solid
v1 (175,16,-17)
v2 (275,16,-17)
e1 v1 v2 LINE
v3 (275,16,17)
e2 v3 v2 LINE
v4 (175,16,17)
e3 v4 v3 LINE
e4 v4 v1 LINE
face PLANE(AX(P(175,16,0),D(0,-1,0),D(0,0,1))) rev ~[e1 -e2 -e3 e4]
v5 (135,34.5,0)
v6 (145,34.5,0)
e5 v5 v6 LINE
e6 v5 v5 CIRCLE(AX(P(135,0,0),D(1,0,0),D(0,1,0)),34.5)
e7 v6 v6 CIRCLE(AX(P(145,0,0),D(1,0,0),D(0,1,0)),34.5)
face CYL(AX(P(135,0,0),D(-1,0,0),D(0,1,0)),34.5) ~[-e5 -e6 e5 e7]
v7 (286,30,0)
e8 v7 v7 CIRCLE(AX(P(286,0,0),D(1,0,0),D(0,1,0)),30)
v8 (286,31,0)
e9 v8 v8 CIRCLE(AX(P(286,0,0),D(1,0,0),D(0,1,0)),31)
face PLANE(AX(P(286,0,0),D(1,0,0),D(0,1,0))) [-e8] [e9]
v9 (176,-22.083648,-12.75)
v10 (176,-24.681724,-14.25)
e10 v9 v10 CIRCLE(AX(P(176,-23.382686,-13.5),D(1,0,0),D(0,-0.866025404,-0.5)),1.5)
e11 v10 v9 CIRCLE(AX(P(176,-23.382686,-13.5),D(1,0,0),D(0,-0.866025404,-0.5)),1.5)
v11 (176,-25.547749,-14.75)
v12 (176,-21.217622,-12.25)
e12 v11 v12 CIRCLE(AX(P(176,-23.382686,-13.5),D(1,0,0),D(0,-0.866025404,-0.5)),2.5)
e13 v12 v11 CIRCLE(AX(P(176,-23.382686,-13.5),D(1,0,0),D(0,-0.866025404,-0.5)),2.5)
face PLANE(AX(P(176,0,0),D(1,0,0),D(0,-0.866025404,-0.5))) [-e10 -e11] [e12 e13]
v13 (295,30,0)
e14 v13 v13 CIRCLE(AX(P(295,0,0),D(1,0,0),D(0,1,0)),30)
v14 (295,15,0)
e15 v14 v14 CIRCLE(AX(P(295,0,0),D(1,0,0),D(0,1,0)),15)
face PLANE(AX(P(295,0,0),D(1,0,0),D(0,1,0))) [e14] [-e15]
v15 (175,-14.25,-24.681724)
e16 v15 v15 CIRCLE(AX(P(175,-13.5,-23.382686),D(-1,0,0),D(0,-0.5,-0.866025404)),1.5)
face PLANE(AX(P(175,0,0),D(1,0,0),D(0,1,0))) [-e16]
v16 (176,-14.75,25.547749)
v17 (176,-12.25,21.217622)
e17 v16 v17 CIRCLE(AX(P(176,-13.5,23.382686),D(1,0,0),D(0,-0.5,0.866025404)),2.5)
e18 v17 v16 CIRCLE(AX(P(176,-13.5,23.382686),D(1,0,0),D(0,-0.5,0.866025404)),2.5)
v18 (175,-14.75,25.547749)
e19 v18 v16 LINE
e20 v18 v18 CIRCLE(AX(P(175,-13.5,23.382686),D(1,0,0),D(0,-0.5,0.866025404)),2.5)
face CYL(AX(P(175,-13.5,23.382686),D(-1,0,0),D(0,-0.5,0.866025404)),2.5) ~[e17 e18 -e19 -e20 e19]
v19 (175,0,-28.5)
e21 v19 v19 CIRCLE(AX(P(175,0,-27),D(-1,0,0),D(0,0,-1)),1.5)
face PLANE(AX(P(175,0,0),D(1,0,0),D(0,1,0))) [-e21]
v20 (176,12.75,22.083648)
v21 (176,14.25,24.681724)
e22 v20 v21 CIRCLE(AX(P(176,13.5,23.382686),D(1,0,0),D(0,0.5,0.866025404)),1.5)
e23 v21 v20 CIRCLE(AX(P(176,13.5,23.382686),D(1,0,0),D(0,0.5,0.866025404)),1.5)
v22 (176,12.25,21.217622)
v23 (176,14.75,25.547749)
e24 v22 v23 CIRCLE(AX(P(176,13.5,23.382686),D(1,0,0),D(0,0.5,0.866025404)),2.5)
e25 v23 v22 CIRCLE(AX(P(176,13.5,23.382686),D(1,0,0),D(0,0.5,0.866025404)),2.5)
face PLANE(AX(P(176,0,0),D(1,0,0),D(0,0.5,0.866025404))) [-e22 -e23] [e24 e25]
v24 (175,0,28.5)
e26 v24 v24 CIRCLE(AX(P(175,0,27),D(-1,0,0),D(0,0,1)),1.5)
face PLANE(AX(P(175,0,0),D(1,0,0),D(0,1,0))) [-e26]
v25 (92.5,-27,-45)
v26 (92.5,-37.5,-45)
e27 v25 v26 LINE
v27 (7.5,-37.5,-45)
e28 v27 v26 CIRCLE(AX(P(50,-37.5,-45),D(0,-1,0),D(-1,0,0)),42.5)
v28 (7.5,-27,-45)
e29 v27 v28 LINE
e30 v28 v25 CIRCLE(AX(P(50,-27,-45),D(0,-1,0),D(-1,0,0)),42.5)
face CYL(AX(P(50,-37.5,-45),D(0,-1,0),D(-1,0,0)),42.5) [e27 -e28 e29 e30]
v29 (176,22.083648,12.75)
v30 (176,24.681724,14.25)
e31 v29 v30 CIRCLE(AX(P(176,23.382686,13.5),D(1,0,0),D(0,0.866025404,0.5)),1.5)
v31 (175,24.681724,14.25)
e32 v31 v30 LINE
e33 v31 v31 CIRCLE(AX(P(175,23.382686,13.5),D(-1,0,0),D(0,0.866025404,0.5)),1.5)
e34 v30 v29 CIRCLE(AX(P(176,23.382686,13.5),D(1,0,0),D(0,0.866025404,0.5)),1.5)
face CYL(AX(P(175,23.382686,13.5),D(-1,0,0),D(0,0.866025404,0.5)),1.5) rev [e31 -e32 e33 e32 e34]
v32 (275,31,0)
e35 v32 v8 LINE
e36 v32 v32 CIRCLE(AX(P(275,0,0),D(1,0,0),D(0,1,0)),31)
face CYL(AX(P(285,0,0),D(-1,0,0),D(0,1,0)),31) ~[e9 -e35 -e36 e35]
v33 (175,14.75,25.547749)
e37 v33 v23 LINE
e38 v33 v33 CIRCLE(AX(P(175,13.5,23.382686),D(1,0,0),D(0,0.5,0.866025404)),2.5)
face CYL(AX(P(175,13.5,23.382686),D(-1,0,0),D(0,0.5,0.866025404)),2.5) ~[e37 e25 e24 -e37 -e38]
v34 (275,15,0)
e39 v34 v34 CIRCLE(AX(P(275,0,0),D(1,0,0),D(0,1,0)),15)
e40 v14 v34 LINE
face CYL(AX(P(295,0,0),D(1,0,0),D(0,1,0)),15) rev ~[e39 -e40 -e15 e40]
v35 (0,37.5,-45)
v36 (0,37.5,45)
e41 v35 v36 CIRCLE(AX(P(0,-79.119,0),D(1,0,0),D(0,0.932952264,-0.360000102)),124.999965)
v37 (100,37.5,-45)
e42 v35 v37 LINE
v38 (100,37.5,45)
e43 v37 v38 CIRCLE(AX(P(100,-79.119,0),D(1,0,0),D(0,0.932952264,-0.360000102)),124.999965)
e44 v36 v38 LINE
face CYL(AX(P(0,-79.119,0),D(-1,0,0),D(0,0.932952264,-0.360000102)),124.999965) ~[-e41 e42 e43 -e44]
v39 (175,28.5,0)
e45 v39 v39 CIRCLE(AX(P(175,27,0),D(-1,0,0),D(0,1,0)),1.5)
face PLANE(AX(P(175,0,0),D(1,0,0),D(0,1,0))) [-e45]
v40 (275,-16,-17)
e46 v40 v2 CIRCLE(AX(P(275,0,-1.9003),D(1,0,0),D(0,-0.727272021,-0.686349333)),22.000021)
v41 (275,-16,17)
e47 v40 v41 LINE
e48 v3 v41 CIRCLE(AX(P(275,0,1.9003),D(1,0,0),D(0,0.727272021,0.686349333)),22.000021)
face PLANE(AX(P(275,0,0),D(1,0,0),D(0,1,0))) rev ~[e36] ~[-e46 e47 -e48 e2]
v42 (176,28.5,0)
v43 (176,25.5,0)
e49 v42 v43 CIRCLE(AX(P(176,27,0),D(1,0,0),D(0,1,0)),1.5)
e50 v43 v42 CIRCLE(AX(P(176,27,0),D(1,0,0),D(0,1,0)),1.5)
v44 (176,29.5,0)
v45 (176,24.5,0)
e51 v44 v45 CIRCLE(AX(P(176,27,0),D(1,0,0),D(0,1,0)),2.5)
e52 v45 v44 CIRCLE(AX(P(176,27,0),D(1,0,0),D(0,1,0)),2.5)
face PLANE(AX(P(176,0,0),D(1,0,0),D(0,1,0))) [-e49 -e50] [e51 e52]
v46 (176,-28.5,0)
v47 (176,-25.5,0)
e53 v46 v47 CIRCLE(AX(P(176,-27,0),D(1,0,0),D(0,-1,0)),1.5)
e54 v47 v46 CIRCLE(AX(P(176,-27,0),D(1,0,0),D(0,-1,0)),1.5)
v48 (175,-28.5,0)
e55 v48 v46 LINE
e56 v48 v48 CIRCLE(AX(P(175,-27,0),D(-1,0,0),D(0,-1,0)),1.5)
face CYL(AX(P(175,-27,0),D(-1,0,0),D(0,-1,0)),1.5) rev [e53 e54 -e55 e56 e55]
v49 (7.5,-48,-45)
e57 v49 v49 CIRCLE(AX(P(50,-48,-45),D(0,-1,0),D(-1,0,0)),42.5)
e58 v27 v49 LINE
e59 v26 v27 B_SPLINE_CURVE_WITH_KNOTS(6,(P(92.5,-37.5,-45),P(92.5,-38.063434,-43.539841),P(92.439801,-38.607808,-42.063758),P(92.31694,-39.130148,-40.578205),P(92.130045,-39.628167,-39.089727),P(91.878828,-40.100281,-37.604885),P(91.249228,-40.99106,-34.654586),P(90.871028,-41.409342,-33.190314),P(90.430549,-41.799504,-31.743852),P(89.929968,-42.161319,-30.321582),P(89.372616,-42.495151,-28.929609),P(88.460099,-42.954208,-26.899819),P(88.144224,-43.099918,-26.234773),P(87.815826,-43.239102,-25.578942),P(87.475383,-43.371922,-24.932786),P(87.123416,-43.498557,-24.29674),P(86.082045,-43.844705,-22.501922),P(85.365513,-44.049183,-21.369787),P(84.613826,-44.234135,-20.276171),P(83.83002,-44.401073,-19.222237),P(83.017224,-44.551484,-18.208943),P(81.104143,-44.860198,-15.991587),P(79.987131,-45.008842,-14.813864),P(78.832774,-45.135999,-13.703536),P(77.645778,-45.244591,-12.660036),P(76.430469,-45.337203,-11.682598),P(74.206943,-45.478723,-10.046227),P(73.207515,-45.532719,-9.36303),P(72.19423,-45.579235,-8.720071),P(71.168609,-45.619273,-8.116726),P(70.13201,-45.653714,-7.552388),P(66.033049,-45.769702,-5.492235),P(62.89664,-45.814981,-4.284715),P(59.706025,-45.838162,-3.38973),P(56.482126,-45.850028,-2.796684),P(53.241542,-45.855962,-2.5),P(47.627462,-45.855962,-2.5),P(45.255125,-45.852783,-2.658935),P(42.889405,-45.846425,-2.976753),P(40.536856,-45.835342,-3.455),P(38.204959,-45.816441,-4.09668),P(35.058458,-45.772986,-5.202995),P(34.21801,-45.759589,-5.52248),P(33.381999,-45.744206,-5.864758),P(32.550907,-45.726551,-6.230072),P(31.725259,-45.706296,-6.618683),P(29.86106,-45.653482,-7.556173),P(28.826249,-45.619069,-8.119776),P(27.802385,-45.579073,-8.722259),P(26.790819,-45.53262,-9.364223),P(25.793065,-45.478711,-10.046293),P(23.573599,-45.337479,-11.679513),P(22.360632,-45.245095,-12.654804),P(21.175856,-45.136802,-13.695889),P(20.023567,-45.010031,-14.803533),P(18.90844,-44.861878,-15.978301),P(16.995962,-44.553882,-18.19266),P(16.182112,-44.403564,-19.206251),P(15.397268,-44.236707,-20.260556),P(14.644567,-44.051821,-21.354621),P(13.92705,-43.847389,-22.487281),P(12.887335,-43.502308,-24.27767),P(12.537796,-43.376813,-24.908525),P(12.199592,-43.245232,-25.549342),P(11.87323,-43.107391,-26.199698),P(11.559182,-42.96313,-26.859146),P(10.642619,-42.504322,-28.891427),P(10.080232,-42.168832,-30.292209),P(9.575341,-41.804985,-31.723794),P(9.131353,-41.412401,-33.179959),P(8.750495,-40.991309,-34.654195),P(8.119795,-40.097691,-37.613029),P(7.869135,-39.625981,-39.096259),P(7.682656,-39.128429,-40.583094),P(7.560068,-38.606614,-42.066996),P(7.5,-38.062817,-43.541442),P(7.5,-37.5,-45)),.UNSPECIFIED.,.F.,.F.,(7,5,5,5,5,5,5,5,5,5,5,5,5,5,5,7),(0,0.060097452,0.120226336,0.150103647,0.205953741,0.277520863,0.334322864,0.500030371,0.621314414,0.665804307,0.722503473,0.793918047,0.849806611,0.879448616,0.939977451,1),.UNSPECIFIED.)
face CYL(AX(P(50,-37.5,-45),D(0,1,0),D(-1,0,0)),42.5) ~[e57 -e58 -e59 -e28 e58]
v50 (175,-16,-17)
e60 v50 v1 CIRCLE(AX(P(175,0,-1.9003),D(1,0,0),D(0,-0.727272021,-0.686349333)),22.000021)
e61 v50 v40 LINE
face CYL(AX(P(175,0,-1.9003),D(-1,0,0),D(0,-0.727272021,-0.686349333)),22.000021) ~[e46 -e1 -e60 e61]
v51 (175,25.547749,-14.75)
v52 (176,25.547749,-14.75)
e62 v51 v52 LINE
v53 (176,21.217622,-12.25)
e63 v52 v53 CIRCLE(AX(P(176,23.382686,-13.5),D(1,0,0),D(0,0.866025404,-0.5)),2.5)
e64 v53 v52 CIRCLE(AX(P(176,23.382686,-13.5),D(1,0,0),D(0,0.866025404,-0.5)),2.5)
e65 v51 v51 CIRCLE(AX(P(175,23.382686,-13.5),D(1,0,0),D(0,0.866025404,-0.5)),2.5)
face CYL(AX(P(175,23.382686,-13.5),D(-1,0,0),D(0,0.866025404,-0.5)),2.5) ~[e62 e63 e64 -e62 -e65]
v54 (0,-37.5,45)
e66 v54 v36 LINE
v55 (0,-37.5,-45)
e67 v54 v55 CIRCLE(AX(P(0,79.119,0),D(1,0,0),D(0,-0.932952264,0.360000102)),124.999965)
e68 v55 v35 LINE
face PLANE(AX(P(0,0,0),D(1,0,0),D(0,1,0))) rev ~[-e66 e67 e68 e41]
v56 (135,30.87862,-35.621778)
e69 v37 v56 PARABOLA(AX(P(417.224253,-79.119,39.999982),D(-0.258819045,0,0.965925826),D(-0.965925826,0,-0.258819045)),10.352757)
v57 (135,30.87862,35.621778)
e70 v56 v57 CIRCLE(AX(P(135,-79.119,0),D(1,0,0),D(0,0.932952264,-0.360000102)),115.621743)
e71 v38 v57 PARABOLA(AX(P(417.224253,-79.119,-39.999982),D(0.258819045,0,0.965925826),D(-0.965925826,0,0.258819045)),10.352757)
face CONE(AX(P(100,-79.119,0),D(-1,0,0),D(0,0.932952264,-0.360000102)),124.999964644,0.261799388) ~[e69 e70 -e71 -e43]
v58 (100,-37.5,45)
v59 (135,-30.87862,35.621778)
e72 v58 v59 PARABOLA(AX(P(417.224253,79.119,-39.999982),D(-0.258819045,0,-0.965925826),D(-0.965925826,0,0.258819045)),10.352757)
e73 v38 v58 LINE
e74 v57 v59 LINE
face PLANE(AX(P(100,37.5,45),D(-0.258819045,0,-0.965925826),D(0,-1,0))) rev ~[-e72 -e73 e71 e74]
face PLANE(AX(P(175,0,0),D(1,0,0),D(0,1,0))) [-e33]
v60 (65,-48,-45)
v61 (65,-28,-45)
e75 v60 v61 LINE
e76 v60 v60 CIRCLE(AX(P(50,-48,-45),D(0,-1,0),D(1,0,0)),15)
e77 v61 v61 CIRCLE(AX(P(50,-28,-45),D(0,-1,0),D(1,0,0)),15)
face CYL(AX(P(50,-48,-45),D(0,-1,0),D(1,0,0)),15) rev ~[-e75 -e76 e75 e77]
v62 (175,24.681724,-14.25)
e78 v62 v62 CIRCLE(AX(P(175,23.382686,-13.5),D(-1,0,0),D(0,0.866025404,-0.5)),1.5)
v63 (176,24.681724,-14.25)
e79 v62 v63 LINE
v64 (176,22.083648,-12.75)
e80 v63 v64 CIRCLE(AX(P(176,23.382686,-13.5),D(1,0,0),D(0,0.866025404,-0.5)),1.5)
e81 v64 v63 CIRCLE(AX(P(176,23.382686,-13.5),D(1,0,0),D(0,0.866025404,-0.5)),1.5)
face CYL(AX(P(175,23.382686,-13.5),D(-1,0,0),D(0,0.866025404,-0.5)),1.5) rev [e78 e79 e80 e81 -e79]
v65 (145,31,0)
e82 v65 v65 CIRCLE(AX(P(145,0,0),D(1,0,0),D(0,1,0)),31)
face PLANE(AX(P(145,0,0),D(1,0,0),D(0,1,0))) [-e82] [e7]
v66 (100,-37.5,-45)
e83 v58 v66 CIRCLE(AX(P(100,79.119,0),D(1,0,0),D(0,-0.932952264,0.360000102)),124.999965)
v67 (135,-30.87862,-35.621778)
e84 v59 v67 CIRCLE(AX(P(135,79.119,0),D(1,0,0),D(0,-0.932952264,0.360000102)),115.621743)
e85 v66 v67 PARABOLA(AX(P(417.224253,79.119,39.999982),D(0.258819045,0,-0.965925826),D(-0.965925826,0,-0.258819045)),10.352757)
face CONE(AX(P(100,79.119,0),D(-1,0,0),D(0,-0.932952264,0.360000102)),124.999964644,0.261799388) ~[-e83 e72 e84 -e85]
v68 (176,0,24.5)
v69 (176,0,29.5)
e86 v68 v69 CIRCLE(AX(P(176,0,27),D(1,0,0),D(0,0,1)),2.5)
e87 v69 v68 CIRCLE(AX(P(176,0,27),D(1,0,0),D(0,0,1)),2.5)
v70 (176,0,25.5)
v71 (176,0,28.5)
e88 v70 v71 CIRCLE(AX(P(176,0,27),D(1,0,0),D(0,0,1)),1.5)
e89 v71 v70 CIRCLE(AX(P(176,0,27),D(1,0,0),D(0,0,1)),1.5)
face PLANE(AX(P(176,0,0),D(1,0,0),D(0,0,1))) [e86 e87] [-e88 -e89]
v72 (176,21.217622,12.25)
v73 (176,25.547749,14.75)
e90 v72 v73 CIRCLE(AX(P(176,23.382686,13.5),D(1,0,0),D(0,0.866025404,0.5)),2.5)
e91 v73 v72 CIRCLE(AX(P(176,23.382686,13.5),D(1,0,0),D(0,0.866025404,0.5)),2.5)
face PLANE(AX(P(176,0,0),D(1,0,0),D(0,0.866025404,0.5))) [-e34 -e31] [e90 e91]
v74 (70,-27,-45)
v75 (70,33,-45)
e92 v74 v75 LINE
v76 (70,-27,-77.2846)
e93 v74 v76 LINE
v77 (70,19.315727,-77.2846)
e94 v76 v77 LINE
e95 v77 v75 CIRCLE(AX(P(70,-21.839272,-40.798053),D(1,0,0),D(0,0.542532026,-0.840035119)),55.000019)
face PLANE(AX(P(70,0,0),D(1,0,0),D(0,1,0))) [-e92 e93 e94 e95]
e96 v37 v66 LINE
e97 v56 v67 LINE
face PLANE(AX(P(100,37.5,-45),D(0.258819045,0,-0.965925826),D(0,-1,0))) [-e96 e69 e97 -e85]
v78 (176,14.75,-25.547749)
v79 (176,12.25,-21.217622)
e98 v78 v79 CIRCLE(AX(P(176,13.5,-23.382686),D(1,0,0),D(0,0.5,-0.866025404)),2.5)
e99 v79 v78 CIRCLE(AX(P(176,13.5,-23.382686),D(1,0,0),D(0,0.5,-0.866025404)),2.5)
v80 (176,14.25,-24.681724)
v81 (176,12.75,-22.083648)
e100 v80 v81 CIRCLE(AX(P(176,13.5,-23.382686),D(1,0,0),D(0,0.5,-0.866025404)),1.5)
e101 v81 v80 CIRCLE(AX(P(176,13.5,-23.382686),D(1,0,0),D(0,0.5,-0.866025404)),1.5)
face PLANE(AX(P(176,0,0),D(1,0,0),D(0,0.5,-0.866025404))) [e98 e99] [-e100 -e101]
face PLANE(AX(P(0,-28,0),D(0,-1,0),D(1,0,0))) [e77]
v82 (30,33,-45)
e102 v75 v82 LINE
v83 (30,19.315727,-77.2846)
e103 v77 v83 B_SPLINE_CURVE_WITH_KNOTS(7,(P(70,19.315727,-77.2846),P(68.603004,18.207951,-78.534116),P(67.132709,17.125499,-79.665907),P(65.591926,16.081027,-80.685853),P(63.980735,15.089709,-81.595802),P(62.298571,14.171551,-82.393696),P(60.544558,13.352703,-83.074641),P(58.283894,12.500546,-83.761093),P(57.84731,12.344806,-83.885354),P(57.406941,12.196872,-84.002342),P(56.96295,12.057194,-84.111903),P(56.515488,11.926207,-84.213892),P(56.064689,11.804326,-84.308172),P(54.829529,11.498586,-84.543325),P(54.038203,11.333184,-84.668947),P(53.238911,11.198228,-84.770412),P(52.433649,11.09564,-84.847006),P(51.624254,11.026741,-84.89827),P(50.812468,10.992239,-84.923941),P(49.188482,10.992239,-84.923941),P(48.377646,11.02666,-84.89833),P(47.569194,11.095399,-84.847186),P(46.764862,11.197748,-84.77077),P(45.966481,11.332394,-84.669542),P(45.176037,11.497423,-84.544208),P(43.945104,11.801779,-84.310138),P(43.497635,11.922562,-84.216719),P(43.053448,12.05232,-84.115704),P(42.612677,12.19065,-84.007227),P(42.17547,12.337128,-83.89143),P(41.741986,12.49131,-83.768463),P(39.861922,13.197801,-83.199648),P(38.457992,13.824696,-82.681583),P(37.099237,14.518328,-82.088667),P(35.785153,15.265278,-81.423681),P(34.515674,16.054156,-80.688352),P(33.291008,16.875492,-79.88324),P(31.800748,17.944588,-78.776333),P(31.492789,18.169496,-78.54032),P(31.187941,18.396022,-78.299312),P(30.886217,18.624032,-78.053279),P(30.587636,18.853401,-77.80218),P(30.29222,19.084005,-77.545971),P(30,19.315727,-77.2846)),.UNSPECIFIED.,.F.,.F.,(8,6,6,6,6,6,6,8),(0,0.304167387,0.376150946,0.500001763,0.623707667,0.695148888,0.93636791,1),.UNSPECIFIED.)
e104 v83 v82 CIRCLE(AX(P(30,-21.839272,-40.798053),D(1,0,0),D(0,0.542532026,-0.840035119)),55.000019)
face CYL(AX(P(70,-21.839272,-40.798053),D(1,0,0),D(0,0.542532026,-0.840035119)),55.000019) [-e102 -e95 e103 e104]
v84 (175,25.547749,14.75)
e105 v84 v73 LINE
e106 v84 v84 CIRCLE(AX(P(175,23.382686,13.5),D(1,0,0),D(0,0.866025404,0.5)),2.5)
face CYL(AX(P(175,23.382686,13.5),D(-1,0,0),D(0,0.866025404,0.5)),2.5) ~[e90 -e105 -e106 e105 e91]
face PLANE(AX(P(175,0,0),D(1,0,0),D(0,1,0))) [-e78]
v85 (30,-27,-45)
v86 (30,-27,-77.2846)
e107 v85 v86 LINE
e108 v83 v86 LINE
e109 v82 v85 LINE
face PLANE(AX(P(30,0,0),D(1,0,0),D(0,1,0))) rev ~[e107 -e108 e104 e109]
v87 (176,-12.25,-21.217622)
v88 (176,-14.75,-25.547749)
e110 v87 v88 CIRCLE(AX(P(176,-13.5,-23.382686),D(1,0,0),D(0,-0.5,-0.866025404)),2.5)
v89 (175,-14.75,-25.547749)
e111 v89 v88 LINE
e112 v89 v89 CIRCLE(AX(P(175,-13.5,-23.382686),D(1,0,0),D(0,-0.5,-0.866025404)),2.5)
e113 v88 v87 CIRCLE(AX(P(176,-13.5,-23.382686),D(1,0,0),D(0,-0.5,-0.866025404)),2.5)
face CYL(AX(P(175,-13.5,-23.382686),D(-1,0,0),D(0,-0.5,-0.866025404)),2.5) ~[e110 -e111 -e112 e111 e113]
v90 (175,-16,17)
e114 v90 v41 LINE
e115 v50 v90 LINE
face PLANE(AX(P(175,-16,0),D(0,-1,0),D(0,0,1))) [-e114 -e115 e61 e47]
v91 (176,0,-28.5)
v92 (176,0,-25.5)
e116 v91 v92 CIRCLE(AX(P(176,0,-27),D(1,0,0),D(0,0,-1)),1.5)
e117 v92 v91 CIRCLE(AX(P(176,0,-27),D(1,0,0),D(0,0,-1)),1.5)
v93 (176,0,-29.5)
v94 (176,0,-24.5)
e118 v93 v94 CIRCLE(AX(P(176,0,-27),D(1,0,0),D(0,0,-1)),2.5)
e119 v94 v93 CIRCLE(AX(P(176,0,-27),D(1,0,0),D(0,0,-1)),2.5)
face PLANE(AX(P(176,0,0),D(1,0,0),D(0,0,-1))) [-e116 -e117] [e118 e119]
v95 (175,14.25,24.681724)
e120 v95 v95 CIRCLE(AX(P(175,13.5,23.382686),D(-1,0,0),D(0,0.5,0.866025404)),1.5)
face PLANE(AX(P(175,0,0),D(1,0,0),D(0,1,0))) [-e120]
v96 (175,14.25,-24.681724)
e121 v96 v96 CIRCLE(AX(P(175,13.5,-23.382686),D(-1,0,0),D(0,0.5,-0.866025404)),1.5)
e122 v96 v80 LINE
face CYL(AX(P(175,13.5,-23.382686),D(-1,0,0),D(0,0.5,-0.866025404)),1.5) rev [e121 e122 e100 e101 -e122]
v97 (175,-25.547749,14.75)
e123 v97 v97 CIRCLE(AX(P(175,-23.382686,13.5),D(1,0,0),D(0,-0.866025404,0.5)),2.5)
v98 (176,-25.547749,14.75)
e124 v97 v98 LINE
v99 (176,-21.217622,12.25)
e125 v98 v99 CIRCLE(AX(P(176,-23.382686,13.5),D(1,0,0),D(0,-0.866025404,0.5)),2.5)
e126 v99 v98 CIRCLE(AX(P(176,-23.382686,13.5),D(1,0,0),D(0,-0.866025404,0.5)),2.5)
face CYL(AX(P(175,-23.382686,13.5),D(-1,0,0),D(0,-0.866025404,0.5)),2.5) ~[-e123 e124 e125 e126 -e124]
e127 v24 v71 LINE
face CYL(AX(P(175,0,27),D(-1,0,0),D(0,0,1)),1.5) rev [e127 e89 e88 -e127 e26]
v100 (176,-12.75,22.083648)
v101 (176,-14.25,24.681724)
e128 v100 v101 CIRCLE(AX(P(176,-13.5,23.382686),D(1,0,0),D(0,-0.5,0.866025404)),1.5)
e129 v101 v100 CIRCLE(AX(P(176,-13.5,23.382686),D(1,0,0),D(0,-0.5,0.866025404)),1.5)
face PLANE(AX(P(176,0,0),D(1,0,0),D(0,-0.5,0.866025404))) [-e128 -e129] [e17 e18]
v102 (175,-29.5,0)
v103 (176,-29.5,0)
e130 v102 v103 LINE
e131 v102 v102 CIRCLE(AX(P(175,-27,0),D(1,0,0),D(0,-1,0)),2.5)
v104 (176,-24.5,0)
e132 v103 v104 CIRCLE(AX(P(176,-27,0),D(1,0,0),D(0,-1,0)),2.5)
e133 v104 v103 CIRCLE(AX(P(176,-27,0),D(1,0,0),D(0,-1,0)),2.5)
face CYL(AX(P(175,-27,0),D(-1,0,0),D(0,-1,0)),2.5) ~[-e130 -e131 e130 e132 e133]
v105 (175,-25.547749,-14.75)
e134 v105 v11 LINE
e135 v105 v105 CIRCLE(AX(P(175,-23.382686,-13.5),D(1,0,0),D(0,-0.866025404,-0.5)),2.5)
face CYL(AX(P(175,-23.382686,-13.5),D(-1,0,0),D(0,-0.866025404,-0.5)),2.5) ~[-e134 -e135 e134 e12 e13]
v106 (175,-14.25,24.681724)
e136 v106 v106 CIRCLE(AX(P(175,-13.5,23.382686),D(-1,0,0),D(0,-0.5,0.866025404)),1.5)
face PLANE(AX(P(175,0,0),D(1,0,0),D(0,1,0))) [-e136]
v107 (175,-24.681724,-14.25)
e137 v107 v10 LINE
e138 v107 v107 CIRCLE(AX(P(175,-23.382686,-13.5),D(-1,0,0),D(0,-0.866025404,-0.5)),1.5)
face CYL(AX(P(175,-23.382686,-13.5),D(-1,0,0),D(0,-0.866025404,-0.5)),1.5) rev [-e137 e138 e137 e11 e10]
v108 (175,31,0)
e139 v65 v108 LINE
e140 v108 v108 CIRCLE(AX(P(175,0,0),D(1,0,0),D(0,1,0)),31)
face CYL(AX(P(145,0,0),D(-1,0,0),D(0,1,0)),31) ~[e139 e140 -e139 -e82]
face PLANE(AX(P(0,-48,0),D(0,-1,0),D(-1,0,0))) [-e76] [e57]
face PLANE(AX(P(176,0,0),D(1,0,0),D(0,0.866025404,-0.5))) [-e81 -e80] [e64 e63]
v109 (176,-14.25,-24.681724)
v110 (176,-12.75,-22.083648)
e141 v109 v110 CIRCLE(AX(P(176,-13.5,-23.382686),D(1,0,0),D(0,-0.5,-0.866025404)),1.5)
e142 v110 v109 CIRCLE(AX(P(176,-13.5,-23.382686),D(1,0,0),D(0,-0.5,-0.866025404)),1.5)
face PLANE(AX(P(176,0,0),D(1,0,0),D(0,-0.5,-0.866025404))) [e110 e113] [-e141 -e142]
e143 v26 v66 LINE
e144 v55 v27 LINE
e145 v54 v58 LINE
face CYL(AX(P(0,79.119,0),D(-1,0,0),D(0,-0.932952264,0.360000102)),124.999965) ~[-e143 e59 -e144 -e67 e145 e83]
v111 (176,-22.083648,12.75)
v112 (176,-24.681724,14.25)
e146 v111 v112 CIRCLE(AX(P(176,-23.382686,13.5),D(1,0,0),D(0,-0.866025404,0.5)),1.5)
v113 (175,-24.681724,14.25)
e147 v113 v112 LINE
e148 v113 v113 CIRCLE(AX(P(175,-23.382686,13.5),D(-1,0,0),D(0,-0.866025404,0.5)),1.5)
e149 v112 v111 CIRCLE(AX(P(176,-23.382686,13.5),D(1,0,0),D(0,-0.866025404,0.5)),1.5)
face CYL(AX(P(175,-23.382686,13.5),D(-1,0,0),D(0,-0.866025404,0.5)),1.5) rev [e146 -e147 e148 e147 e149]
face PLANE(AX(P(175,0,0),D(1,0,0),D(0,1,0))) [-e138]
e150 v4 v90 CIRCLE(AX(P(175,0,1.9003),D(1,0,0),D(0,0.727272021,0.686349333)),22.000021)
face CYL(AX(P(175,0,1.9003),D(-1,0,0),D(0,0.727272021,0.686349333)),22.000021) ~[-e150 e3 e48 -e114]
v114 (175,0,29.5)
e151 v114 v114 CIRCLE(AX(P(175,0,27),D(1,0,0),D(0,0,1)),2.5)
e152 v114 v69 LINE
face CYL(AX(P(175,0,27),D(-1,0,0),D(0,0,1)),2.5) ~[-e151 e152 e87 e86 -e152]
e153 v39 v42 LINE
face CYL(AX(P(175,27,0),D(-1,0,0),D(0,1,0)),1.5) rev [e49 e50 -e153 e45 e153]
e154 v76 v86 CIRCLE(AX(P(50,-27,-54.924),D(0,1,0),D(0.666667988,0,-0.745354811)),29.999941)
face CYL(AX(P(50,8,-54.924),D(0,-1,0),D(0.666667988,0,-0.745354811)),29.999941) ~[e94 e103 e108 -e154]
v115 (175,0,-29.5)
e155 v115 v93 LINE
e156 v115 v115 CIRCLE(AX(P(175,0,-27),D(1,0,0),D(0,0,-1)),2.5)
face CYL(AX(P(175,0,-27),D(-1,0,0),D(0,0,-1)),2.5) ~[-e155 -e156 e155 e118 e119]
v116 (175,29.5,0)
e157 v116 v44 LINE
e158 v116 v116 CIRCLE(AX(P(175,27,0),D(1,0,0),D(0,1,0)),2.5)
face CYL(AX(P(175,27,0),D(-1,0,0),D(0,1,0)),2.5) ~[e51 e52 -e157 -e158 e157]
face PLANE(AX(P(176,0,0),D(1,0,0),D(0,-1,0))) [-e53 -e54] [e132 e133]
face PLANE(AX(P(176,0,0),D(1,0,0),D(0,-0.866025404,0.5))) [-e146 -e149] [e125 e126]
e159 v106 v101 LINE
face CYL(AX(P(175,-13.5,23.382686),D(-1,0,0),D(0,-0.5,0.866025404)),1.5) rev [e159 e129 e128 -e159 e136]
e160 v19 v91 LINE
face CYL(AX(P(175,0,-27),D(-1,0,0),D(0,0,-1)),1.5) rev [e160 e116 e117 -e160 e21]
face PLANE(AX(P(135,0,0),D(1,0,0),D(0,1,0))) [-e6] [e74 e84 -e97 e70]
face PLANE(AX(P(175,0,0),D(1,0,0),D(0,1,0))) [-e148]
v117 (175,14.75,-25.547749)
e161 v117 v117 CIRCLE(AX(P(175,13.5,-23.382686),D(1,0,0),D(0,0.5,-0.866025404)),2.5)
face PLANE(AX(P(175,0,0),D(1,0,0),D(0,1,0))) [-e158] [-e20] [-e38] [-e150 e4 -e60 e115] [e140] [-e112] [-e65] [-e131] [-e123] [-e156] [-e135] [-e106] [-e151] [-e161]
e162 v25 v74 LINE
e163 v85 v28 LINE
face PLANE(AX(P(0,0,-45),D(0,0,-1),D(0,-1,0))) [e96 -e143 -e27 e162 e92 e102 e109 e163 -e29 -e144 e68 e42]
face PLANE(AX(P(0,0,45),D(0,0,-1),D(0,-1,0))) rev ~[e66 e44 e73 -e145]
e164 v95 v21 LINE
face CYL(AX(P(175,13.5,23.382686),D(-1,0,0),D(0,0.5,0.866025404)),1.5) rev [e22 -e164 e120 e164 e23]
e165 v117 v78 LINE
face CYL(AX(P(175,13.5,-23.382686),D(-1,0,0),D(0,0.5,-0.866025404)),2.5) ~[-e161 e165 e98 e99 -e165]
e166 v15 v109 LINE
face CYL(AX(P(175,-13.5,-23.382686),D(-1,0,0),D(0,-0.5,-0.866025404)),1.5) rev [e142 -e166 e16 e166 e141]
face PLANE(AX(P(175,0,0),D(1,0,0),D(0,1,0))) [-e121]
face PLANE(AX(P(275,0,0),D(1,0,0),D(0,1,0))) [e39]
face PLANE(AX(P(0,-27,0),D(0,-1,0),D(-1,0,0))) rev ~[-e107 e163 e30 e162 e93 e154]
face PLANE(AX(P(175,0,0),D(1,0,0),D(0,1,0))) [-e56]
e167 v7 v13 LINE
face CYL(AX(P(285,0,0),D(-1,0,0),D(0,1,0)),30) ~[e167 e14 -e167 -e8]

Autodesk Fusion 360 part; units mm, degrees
sketch "Sketch1" plane through (0, 0, 0) normal (1, 0, 0) x (0, 1, 0)
  line L0 (0, 0) -> (0, 45)
  line L1 (0, 0) -> (0, -45)
  line L2 (0, 45) -> (37.5, 45)
  line L3 (0, 45) -> (-37.5, 45)
  line L4 (0, -45) -> (37.5, -45)
  line L5 (0, -45) -> (-37.5, -45)
  arc A0 (-37.5, 45) -> (-37.5, -45) centre (79.119, 0) ccw
  arc A1 (37.5, -45) -> (37.5, 45) centre (-79.119, 0) ccw
  dimension "d1" = 37.5
  dimension "d2" = 37.5
  dimension "d3" = 37.5
  dimension "d4" = 37.5
  dimension "d5" = 125
  dimension "d6" = 125
extrude "Extrude1" add sketch "Sketch1" along normal blind 100
extrude "Extrude2" add 1 faces at (100, -14.2806, -15.2642) along direction (1, 0, 0) blind 35 draft -15
sketch "Sketch2" plane through (135, 0, 0) normal (1, 0, 0) x (0, 1, 0)
  line L0 (-30.8786, -35.6218) -> (30.8786, -35.6218)
  arc A0 (30.8786, -35.6218) -> (30.8786, 35.6218) centre (-79.119, 0) ccw
  line L1 (30.8786, 35.6218) -> (-30.8786, 35.6218)
  arc A1 (-30.8786, 35.6218) -> (-30.8786, -35.6218) centre (79.119, 0) ccw
  circle A2 centre (0, 0) radius 34.5
  dimension "d11" = 69
extrude "Extrude3" add sketch "Sketch2" along normal blind 10 contours A2
sketch "Sketch3" plane through (145, 0, 0) normal (1, 0, 0) x (0, 1, 0)
  circle A0 centre (0, 0) radius 34.5
  circle A1 centre (0, 0) radius 31
  dimension "d14" = 62
extrude "Extrude4" add sketch "Sketch3" along normal blind 30 contours A1
sketch "Sketch4" plane through (175, 0, 0) normal (1, 0, 0) x (0, 1, 0)
  circle A0 centre (0, 0) radius 31
  line L0 (0, 0) -> (27, 0)
  circle A1 centre (27, 0) radius 2.5
  circle A2 centre (27, 0) radius 1.5
  dimension "d17" = 27
  dimension "d18" = 5
  dimension "d19" = -1
extrude "Extrude5" add sketch "Sketch4" along normal blind 1 contours A1
pattern_circular "C-Pattern1" count 12 over 360 about axis through (175, 0, 0) along (1, 0, 0) of "Extrude5"
sketch "Sketch5" plane through (175, 0, 0) normal (1, 0, 0) x (0, 1, 0)
  circle A0 centre (13.5, -23.3827) radius 2.5
  circle A1 centre (-13.5, -23.3827) radius 2.5
  circle A2 centre (-27, 0) radius 2.5
  circle A3 centre (-13.5, 23.3827) radius 2.5
  circle A4 centre (13.5, 23.3827) radius 2.5
  circle A5 centre (27, 0) radius 2.5
  circle A6 centre (0, 0) radius 31
  circle A7 centre (23.3827, 13.5) radius 2.5
  circle A8 centre (0, 27) radius 2.5
  circle A9 centre (-23.3827, 13.5) radius 2.5
  circle A10 centre (-23.3827, -13.5) radius 2.5
  circle A11 centre (0, -27) radius 2.5
  circle A12 centre (23.3827, -13.5) radius 2.5
  line L0 (16, 0) -> (16, 17)
  line L1 (16, 0) -> (16, -17)
  line L2 (-16, 0) -> (-16, 17)
  line L3 (-16, 0) -> (-16, -17)
  arc A13 (-16, -17) -> (16, -17) centre (0, -1.9003) ccw
  arc A14 (16, 17) -> (-16, 17) centre (0, 1.9003) ccw
  dimension "d32" = 22
  dimension "d33" = 17
  dimension "d34" = 17
extrude "Extrude6" add sketch "Sketch5" along normal blind 100 contours L0 L1 L2 L3 A13 A14
sketch "Sketch6" plane through (275, 0, 0) normal (1, 0, 0) x (0, 1, 0)
  line L0 (16, -17) -> (16, 17)
  arc A0 (16, 17) -> (-16, 17) centre (0, 1.9003) ccw
  line L1 (-16, 17) -> (-16, -17)
  arc A1 (-16, -17) -> (16, -17) centre (0, -1.9003) ccw
  circle A2 centre (0, 0) radius 31
  dimension "d37" = 62
extrude "Extrude7" add sketch "Sketch6" along normal blind 10 contours L0 A0 L1 A1 | A2
sketch "Sketch7" plane through (285, 0, 0) normal (1, 0, 0) x (0, 1, 0)
  circle A0 centre (0, 0) radius 31
  circle A1 centre (0, 0) radius 30
  dimension "d40" = -1
extrude "Extrude8" add sketch "Sketch7" along normal blind 1
sketch "Sketch8" plane through (285, 0, 0) normal (1, 0, 0) x (0, 1, 0)
  circle A0 centre (0, 0) radius 30
  circle A1 centre (0, 0) radius 31
  dimension "d43" = 62
extrude "Extrude9" add sketch "Sketch8" along normal blind 10 contours A0
ref_plane "WorkPlane1" through (0, -37.5, 45) normal (0, -1, 0) x (1, 0, 0)
sketch "Sketch9" plane through (0, -37.5, 0) normal (0, -1, 0) x (-1, 0, 0)
  circle A0 centre (-50, 45) radius 42.5
  dimension "d46" = 85
extrude "Extrude10" add sketch "Sketch9" along normal mid plane 21
sketch "Sketch10" plane through (0, -27, 0) normal (0, 1, 0) x (-1, 0, 0)
  line L0 (-7.5, -45) -> (-92.5, -45)
  arc A0 (-92.5, -45) -> (-7.5, -45) centre (-50, -45) ccw
  line L1 (-50, -45) -> (-50, -75)
  line L2 (-70, -45) -> (-70, -77.2846)
  line L3 (-30, -45) -> (-30, -77.2846)
  arc A1 (-70, -77.2846) -> (-30, -77.2846) centre (-50, -54.924) ccw
  dimension "d49" = 30
  dimension "d50" = 20
  dimension "d51" = -20
  dimension "d52" = 30
extrude "Extrude11" add sketch "Sketch10" along normal blind 35 contours L0 L2 L3 A1
sketch "Sketch11" plane through (70, 0, 0) normal (1, 0, 0) x (0, 1, 0)
  line L0 (-27, -45) -> (-27, -77.2846)
  line L1 (-27, -77.2846) -> (8, -77.2846)
  line L2 (8, -77.2846) -> (8, -45)
  line L3 (8, -45) -> (-27, -45)
  line L4 (8, -45) -> (33, -45)
  line L5 (8, -45) -> (8, -87)
  arc A0 (8, -87) -> (33, -45) centre (-21.8393, -40.7981) ccw
  dimension "d55" = 25
  dimension "d56" = 42
  dimension "d57" = 55
extrude "Extrude12" add sketch "Sketch11" against normal blind 40 contours L2 L4 L5 A0
extrude "Extrude13" cut 1 faces at (33.5817, 8, -83.0165) along direction (0, 1, 0) blind 25
sketch "Sketch12" plane through (295, 0, 0) normal (1, 0, 0) x (0, 1, 0)
  circle A0 centre (0, 0) radius 30
  circle A1 centre (0, 0) radius 15
  dimension "d62" = 30
extrude "Extrude14" cut sketch "Sketch12" against normal blind 20 contours A1
sketch "Sketch13" plane through (0, -48, 0) normal (0, -1, 0) x (1, 0, 0)
  circle A0 centre (50, -45) radius 42.5
  circle A1 centre (50, -45) radius 15
  dimension "d65" = 30
extrude "Extrude15" cut sketch "Sketch13" against normal blind 20 contours A1
equation "d47 = ( 21 / 2 ) * 1 mm"
